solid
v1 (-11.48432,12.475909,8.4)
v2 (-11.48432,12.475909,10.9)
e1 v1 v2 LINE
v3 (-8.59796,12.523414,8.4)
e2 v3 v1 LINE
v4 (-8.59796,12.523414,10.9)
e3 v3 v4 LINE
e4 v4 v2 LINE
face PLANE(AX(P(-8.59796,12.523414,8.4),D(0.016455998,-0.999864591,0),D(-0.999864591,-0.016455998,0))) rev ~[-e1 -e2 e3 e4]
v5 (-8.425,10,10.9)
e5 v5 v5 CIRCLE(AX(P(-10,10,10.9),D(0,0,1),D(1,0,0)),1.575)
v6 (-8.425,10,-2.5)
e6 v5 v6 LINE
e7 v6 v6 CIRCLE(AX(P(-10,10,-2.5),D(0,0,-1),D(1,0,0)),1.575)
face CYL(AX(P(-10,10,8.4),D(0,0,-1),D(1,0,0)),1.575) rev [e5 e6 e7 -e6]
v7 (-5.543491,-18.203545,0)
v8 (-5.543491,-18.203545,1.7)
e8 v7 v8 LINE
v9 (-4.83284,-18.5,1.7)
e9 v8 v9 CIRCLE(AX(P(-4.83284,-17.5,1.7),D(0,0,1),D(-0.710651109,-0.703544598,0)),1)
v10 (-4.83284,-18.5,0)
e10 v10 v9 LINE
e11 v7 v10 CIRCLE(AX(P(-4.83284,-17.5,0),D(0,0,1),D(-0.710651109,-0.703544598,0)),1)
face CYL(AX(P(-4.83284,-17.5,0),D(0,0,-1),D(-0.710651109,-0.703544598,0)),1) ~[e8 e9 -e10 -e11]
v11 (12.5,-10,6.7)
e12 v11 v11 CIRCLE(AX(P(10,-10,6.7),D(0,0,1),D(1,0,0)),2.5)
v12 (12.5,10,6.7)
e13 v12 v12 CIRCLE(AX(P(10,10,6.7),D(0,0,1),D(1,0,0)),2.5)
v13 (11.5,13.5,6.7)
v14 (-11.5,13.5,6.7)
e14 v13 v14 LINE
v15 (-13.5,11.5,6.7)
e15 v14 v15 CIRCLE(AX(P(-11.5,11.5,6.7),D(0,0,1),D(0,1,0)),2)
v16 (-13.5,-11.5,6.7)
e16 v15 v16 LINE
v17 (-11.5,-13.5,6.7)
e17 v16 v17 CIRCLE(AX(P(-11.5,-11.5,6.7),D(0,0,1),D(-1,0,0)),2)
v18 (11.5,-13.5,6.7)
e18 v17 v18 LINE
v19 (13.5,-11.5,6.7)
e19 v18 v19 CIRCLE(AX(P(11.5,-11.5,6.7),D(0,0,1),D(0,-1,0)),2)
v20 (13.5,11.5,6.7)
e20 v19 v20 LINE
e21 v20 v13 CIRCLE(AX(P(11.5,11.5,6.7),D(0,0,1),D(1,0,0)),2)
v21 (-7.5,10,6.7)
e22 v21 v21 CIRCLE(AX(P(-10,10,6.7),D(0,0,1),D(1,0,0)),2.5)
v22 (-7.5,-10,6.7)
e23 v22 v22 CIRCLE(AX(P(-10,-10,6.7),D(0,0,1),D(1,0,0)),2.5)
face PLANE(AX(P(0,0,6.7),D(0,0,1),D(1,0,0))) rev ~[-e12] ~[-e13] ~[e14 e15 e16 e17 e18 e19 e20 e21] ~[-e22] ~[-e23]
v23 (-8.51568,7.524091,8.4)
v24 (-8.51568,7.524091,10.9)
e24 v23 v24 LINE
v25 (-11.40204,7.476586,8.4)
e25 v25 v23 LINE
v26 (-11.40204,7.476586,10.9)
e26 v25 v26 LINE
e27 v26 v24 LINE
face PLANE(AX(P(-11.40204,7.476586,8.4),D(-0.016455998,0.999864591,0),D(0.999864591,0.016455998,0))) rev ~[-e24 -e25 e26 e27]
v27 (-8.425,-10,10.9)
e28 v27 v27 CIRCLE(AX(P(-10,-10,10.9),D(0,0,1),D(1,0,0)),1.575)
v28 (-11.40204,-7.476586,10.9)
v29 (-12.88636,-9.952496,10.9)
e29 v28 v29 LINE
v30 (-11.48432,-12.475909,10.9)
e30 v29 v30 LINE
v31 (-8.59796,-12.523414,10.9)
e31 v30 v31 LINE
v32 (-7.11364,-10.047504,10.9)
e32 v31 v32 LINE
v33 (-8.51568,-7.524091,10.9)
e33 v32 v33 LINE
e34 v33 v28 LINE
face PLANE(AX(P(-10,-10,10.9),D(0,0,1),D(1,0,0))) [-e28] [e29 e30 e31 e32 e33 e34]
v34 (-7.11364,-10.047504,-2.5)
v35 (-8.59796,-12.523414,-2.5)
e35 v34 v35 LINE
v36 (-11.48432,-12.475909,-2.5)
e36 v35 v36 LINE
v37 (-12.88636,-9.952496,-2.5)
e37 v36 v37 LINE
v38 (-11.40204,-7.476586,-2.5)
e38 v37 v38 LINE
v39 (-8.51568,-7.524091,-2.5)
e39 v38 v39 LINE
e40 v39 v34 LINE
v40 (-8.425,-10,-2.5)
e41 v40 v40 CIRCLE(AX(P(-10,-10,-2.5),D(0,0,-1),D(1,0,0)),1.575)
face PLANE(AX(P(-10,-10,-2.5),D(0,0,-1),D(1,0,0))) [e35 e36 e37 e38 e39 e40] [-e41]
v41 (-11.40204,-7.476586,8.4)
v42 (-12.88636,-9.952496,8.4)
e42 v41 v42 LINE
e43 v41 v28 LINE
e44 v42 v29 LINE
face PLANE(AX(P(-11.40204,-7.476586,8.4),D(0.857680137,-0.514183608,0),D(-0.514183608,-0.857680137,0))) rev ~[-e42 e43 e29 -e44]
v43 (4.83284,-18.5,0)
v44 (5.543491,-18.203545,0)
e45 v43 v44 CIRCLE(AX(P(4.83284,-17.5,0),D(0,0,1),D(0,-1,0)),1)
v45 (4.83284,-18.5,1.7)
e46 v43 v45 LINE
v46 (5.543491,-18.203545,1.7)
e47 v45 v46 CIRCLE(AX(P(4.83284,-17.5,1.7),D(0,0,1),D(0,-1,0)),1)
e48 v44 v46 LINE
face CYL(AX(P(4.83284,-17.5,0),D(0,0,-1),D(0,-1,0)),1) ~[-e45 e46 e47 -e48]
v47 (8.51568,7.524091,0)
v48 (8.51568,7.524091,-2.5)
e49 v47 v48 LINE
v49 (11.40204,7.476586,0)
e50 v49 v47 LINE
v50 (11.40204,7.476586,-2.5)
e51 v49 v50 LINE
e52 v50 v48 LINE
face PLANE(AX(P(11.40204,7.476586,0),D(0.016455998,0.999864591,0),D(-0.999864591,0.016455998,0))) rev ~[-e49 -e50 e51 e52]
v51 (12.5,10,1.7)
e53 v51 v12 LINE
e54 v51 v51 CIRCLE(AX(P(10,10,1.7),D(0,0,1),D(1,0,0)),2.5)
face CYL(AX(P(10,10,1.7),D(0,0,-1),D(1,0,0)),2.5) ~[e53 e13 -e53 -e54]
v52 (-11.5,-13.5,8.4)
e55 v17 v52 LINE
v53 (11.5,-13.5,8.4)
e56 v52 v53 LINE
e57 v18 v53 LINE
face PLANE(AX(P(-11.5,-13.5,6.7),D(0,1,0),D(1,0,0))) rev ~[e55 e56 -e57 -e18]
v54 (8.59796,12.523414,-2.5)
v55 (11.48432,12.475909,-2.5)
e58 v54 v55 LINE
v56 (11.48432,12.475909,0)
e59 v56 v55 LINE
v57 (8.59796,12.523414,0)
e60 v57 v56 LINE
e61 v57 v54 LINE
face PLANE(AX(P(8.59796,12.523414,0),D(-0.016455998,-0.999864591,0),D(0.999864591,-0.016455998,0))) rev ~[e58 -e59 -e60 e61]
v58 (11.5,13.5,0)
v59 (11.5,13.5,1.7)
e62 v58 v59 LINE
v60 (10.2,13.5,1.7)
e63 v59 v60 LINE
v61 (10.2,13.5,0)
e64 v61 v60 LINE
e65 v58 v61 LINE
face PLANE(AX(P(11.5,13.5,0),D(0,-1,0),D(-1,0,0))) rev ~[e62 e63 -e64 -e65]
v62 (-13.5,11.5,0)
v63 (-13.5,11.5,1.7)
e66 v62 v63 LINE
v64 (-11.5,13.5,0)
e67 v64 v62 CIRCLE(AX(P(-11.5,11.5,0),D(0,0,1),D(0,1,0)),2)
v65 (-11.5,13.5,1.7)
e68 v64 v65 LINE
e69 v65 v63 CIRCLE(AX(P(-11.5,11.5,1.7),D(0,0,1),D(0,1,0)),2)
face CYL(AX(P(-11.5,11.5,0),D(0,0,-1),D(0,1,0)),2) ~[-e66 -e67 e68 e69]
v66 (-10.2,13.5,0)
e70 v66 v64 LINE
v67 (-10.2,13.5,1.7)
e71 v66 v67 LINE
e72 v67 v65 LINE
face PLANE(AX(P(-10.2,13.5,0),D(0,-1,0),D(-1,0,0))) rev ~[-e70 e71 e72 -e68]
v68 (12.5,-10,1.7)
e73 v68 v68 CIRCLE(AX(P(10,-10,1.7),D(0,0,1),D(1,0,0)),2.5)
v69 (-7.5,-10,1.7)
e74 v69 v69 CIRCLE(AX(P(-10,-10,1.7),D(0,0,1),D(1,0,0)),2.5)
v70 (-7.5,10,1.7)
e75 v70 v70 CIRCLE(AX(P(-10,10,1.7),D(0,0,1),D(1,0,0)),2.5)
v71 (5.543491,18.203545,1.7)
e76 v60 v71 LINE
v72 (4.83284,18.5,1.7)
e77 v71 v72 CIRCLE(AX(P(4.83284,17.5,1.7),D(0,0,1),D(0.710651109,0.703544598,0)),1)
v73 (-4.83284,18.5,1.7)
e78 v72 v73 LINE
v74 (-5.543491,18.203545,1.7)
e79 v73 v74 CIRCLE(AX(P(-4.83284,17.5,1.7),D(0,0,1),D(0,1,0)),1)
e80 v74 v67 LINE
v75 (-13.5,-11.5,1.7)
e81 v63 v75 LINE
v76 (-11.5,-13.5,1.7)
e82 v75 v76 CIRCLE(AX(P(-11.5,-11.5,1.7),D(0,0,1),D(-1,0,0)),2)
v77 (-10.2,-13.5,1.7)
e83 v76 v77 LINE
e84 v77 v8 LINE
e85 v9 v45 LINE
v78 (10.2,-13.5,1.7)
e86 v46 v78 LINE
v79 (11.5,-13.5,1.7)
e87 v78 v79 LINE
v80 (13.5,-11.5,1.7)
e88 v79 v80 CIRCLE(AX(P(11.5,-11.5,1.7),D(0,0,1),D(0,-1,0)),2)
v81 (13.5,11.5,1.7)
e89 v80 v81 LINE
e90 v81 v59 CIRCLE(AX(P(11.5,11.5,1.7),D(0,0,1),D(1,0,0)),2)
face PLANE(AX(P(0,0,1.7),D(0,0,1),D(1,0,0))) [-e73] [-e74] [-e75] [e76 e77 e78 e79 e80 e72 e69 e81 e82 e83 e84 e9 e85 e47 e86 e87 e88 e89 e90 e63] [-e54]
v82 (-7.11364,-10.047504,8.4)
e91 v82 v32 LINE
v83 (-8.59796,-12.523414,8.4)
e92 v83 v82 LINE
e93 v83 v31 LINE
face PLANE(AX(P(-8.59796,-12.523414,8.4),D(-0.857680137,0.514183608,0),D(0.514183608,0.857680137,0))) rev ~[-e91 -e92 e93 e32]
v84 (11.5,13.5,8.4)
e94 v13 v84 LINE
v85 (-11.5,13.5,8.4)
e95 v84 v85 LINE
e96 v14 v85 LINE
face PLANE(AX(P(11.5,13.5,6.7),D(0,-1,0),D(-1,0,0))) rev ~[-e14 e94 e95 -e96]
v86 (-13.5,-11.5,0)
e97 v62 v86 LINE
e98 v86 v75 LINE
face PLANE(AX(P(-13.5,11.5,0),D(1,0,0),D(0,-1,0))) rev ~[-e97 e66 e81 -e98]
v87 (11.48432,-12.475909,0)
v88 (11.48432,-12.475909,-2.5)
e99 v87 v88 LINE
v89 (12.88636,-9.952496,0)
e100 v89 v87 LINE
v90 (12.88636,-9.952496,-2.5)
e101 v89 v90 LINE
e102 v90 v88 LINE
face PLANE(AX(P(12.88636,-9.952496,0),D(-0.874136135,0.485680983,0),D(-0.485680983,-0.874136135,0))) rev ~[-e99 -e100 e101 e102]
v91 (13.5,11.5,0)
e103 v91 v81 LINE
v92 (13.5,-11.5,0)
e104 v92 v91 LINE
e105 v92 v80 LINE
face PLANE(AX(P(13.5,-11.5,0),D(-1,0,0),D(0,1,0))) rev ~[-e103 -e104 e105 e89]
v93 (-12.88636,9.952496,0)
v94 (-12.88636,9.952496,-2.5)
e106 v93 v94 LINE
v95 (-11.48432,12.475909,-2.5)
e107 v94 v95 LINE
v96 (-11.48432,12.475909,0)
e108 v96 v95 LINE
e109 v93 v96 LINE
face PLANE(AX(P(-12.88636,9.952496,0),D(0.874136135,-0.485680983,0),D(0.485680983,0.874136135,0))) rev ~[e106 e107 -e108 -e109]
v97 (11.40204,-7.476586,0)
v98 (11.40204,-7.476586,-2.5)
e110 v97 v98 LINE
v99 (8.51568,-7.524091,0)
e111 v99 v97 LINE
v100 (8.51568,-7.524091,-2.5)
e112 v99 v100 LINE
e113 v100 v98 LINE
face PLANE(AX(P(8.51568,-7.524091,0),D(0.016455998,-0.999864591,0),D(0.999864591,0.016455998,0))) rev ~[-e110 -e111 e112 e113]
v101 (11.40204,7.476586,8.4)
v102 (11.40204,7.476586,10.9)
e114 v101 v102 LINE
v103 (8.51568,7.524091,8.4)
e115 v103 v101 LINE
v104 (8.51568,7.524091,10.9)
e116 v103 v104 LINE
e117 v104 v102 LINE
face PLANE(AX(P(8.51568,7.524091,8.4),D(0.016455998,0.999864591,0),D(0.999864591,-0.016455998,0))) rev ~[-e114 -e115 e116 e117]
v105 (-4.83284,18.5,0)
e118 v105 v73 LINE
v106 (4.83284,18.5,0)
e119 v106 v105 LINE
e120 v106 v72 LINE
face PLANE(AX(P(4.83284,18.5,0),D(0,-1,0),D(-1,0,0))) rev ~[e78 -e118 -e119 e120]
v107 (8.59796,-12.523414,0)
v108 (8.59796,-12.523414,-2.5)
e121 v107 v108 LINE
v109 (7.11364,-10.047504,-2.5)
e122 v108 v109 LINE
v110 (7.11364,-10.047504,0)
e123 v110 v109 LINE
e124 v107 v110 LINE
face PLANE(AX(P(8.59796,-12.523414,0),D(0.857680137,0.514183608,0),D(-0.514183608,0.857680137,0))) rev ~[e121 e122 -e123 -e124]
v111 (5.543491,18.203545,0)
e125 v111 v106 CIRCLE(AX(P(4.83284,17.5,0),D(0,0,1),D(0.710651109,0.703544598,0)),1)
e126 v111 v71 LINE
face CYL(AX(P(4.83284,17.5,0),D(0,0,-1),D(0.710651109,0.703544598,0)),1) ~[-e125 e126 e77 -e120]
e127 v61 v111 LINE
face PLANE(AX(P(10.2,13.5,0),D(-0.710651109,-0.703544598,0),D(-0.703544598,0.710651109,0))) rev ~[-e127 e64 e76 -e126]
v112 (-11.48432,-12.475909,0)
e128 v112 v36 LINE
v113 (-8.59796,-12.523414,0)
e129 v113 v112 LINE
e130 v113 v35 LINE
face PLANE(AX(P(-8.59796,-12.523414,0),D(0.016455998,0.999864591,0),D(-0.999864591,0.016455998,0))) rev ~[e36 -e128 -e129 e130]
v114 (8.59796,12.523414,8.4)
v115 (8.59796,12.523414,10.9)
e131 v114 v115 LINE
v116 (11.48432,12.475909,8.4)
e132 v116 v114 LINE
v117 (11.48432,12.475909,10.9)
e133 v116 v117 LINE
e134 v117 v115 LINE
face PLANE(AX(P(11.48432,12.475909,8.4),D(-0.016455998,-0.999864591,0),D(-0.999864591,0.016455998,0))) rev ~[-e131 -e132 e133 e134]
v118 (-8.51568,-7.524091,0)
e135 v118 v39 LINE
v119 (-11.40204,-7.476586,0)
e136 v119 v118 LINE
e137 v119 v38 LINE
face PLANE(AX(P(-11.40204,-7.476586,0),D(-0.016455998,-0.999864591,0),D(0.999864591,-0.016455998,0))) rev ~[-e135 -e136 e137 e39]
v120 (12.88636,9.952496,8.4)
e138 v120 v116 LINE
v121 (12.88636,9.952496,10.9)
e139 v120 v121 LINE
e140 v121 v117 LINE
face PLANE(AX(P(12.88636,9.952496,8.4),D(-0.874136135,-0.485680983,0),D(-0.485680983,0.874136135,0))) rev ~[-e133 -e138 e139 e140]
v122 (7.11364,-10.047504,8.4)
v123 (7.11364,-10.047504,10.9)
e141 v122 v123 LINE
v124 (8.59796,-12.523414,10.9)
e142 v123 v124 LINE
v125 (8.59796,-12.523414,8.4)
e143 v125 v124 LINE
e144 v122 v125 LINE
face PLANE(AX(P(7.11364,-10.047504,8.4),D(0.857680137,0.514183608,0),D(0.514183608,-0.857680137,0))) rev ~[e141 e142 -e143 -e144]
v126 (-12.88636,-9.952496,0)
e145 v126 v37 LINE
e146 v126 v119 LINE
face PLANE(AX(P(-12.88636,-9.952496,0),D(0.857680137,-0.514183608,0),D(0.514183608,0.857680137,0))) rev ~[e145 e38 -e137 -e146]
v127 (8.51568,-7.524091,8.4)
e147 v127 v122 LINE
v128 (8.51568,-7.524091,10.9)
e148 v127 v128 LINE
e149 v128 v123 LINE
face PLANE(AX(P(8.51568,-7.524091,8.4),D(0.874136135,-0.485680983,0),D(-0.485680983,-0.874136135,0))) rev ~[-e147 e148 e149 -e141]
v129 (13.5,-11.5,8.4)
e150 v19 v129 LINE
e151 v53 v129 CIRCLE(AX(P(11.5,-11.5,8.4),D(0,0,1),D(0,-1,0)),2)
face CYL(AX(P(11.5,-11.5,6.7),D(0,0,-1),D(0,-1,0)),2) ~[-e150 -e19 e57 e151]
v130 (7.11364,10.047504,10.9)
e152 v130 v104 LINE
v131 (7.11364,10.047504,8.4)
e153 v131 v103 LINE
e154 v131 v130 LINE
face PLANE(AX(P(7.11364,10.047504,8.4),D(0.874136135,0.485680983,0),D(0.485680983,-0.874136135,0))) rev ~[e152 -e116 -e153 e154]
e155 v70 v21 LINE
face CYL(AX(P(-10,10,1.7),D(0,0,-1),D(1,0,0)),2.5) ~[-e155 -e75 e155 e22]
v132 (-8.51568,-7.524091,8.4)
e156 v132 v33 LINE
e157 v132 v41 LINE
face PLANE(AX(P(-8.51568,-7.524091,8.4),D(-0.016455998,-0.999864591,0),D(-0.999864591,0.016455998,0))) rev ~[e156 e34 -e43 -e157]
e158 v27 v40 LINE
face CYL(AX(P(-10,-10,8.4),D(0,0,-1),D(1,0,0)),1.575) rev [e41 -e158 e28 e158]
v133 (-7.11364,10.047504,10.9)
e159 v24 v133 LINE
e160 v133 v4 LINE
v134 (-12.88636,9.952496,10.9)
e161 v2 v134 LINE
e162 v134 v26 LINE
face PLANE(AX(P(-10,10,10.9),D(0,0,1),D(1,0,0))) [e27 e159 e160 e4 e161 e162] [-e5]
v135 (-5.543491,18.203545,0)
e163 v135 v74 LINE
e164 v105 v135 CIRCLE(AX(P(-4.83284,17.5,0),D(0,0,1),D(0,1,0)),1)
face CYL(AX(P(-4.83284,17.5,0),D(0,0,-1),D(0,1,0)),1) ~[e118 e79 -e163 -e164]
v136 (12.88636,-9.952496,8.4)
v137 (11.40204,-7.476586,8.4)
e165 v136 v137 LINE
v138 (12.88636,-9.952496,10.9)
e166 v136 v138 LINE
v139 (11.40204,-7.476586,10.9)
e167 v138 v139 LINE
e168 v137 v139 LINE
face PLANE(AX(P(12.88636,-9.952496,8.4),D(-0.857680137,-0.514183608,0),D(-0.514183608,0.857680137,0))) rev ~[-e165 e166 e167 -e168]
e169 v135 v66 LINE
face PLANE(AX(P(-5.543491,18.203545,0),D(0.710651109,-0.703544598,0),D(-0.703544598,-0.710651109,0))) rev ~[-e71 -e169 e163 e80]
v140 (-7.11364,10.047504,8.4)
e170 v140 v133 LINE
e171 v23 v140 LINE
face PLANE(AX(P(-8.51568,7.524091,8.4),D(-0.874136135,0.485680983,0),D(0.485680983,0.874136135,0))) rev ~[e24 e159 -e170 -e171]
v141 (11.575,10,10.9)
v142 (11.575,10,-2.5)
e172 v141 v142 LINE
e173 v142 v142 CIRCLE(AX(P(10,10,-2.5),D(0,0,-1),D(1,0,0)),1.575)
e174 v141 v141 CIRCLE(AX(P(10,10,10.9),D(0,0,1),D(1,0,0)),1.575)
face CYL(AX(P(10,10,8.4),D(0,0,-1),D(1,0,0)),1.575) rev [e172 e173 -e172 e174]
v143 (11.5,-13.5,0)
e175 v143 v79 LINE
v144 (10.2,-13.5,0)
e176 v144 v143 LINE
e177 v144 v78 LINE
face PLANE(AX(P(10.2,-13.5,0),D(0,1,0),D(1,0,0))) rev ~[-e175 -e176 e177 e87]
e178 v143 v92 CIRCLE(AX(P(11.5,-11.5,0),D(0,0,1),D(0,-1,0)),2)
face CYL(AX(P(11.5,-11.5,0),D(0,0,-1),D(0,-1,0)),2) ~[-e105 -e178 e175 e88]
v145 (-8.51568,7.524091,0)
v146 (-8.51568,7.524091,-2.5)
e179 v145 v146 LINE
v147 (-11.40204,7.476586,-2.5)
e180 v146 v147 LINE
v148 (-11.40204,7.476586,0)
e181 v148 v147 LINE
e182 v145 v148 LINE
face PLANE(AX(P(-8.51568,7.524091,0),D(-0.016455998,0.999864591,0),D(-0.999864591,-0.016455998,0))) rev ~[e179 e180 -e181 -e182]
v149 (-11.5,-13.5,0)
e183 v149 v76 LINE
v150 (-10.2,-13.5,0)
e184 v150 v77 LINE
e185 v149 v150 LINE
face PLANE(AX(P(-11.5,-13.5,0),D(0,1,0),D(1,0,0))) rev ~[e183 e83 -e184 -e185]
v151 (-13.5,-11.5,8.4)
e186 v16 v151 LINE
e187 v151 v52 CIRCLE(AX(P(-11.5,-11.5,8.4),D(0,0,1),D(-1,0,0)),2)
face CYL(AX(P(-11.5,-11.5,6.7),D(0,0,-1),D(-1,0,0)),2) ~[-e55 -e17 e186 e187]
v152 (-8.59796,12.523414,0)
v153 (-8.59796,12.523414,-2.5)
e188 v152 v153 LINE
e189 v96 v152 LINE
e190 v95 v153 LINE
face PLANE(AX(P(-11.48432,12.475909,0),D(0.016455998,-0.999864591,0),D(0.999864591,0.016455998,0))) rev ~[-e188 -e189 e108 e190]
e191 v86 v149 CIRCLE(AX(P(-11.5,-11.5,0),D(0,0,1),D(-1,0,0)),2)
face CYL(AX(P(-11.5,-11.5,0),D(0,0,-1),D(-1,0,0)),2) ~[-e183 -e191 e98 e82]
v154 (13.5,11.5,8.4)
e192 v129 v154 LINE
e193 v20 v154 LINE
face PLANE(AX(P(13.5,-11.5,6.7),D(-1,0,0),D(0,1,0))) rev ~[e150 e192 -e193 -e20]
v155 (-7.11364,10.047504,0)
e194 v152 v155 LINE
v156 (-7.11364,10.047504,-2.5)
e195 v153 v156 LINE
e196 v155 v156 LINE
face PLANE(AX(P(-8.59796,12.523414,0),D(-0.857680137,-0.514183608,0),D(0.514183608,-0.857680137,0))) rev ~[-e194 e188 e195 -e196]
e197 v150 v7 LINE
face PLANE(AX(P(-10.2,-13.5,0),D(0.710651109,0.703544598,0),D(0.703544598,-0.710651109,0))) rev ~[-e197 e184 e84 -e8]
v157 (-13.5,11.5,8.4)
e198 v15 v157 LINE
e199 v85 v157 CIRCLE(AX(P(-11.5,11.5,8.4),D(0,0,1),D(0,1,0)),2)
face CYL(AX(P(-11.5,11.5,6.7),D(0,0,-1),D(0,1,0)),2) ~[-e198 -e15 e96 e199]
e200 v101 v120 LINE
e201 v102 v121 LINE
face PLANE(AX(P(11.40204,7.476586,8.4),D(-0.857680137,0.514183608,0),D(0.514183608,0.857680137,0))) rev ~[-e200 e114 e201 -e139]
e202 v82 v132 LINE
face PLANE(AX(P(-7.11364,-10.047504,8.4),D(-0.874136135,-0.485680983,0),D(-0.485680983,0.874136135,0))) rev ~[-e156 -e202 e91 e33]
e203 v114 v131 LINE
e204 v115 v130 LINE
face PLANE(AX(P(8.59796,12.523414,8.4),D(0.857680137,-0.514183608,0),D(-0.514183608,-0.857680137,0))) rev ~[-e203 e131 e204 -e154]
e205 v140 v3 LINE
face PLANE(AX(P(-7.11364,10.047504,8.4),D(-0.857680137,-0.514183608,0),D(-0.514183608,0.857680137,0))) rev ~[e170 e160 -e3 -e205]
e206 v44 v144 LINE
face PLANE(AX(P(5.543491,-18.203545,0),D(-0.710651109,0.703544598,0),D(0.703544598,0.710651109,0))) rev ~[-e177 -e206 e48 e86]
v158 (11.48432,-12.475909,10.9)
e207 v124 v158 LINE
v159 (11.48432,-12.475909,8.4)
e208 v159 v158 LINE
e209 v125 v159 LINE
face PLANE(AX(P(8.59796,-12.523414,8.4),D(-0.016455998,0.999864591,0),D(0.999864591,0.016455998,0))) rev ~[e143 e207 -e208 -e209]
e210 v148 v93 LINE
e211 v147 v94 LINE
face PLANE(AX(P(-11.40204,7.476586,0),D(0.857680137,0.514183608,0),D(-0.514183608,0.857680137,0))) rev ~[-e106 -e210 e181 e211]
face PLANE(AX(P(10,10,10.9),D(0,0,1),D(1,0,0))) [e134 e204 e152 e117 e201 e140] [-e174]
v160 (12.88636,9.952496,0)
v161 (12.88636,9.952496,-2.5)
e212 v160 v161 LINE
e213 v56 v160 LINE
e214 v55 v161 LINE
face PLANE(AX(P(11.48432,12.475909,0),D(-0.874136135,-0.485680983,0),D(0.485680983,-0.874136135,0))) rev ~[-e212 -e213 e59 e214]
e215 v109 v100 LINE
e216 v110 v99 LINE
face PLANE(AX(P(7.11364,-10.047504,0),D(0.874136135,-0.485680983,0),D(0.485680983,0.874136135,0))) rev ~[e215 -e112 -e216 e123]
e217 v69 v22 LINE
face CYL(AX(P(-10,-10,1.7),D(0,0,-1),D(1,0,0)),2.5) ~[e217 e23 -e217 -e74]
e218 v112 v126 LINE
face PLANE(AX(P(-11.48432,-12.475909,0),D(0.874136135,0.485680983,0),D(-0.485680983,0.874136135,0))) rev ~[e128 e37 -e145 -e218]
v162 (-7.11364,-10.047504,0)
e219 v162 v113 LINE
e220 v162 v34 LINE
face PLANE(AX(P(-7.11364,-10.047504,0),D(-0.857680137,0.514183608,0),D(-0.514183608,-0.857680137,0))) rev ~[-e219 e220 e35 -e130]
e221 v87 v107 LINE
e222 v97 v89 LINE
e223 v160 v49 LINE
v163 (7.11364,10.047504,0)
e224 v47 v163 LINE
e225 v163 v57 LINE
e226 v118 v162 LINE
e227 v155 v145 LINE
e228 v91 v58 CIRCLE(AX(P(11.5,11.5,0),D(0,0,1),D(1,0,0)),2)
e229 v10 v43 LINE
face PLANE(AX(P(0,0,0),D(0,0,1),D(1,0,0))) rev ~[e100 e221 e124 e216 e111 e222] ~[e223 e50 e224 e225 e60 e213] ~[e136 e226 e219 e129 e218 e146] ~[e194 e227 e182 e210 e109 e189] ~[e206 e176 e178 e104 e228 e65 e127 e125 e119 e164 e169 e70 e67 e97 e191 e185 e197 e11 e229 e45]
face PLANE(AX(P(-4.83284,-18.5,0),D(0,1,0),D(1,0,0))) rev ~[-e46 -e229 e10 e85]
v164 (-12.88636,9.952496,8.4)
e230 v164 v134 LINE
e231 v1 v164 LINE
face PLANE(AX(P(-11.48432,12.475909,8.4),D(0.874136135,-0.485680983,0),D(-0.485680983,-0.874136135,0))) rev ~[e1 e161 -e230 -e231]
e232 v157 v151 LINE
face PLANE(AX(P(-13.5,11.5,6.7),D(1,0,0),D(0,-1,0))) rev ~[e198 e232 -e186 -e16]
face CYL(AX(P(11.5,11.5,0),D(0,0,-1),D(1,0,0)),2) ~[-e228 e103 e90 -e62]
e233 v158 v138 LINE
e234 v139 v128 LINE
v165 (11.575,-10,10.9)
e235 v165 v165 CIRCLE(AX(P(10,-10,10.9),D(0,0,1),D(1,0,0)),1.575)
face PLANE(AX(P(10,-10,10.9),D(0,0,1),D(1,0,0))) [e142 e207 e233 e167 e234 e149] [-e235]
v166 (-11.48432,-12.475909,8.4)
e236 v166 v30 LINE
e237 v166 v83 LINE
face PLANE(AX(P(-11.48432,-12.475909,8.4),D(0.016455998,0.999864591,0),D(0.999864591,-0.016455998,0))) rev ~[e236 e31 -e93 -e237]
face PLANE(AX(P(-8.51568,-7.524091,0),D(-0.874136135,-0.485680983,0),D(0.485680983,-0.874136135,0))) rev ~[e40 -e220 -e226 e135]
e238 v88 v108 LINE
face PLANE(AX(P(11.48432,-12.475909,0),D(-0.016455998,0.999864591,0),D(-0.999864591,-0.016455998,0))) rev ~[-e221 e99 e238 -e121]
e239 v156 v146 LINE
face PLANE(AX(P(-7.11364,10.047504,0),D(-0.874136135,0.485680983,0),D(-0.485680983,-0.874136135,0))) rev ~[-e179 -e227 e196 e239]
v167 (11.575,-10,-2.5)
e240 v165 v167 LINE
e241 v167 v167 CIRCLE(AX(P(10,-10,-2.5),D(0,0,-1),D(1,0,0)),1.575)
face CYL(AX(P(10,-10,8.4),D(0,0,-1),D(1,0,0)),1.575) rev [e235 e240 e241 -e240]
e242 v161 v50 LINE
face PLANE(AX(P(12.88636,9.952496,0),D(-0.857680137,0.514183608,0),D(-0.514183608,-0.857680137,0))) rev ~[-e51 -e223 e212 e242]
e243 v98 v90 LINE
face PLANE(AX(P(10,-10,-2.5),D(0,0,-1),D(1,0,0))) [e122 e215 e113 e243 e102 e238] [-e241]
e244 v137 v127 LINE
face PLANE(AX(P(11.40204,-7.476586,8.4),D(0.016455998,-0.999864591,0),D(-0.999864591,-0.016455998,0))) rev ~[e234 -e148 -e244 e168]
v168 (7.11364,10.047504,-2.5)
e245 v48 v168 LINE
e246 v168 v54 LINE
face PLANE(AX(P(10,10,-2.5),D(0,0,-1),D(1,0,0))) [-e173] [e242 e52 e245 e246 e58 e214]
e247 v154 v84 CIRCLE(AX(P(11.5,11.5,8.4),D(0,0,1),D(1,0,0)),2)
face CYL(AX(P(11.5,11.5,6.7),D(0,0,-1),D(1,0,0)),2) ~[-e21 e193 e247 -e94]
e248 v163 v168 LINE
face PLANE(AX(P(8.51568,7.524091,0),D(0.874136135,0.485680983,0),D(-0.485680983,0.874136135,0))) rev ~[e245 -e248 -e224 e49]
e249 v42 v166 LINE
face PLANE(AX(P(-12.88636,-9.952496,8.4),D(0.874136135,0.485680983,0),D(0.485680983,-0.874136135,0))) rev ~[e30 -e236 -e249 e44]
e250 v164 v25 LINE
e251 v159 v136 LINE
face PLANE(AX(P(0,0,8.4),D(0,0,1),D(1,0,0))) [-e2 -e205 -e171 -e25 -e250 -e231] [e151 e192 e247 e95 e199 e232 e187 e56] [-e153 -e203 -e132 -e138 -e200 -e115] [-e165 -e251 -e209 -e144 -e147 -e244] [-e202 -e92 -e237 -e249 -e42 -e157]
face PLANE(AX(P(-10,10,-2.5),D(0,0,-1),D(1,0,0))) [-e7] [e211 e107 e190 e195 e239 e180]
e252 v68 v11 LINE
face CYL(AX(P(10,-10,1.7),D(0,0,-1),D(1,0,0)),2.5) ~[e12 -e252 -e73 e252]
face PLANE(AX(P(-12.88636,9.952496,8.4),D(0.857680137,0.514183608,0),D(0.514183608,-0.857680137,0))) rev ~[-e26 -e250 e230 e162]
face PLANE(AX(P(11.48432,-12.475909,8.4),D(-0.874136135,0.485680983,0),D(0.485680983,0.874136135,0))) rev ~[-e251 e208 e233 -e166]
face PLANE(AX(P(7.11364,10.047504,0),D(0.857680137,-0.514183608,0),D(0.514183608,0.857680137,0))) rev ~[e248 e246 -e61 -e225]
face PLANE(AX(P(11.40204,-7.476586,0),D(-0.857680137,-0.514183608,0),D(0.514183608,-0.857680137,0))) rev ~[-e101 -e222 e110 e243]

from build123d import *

# Parameters (mm, degrees)
F1_R      = 1.575
F2_DEPTH  = 1.7
F3_R      = 1.575
F4_DEPTH  = 2.5
F5_R      = 2.5
F5_R_2    = 1.575
F6_DEPTH  = 5
F7_R      = 1.575
F8_DEPTH  = 1.7
F9_R      = 1.575
F10_DEPTH = 2.5


with BuildPart() as f2:
    # F1 (on Top) → F2 (new body)
    with BuildSketch(Plane.XY):
        with BuildLine():
            Line((-10.2, 13.5), (-11.5, 13.5))
            ThreePointArc((-11.5, 13.5), (-12.9142135624, 12.9142135624), (-13.5, 11.5))
            Line((-13.5, 11.5), (-13.5, -11.5))
            ThreePointArc((-13.5, -11.5), (-12.9142135624, -12.9142135624), (-11.5, -13.5))
            Line((-11.5, -13.5), (-10.2, -13.5))
            Line((-10.2, -13.5), (10.2, -13.5))
            Line((10.2, -13.5), (11.5, -13.5))
            ThreePointArc((11.5, -13.5), (12.9142135624, -12.9142135624), (13.5, -11.5))
            Line((13.5, -11.5), (13.5, 11.5))
            ThreePointArc((13.5, 11.5), (12.9142135624, 12.9142135624), (11.5, 13.5))
            Line((11.5, 13.5), (10.2, 13.5))
            Line((10.2, 13.5), (-10.2, 13.5))
        make_face()
        with Locations((-10, -10)):
            Circle(F1_R, mode=Mode.SUBTRACT)
        with Locations((10, -10)):
            Circle(F1_R, mode=Mode.SUBTRACT)
        with Locations((-10, 10)):
            Circle(F1_R, mode=Mode.SUBTRACT)
        with Locations((10, 10)):
            Circle(F1_R, mode=Mode.SUBTRACT)
        with BuildLine():
            Line((-5.5434908481, 18.2035445979), (-10.2, 13.5))
            Line((-10.2, 13.5), (10.2, 13.5))
            Line((10.2, 13.5), (5.5434908481, 18.2035445979))
            ThreePointArc((5.5434908481, 18.2035445979), (5.2178432469, 18.4229151093), (4.832839739, 18.5))
            Line((4.832839739, 18.5), (-4.832839739, 18.5))
            ThreePointArc((-4.832839739, 18.5), (-5.2178432469, 18.4229151093), (-5.5434908481, 18.2035445979))
        make_face()
        with BuildLine():
            Line((10.2, -13.5), (-10.2, -13.5))
            Line((-10.2, -13.5), (-5.5434908481, -18.2035445979))
            ThreePointArc((-5.5434908481, -18.2035445979), (-5.2178432469, -18.4229151093), (-4.832839739, -18.5))
            Line((-4.832839739, -18.5), (4.832839739, -18.5))
            ThreePointArc((4.832839739, -18.5), (5.2178432469, -18.4229151093), (5.5434908481, -18.2035445979))
            Line((5.5434908481, -18.2035445979), (10.2, -13.5))
        make_face()
    extrude(amount=F2_DEPTH)

    # F3 (on face) → F4 (join)
    with BuildSketch(Plane(origin=(0, 0, 0), x_dir=(1, 0, 0), z_dir=(0, 0, -1))):
        Polygon((-11.4020402321, -7.4765863358), (-12.8863604535, -9.952495626), (-11.4843202214, -12.4759092903), (-8.5979597679, -12.5234136642), (-7.1136395465, -10.047504374), (-8.5156797786, -7.5240907097), align=None)
        with Locations((-10, -10)):
            Circle(F3_R, mode=Mode.SUBTRACT)
        Polygon((-12.8863604535, 9.952495626), (-11.4020402321, 7.4765863358), (-8.5156797786, 7.5240907097), (-7.1136395465, 10.047504374), (-8.5979597679, 12.5234136642), (-11.4843202214, 12.4759092903), align=None)
        with Locations((-10, 10)):
            Circle(F3_R, mode=Mode.SUBTRACT)
        Polygon((11.4843202214, -12.4759092903), (12.8863604535, -9.952495626), (11.4020402321, -7.4765863358), (8.5156797786, -7.5240907097), (7.1136395465, -10.047504374), (8.5979597679, -12.5234136642), align=None)
        with Locations((10, -10)):
            Circle(F3_R, mode=Mode.SUBTRACT)
        Polygon((8.5979597679, 12.5234136642), (7.1136395465, 10.047504374), (8.5156797786, 7.5240907097), (11.4020402321, 7.4765863358), (12.8863604535, 9.952495626), (11.4843202214, 12.4759092903), align=None)
        with Locations((10, 10)):
            Circle(F3_R, mode=Mode.SUBTRACT)
    extrude(amount=F4_DEPTH)

    # F5 (on face) → F6 (join)
    with BuildSketch(Plane.XY.offset(1.7)):
        with Locations((-10, 10)):
            Circle(F5_R)
        with Locations((-10, 10)):
            Circle(F5_R_2, mode=Mode.SUBTRACT)
        with Locations((10, 10)):
            Circle(F5_R)
        with Locations((10, 10)):
            Circle(F5_R_2, mode=Mode.SUBTRACT)
        with Locations((10, -10)):
            Circle(F5_R)
        with Locations((10, -10)):
            Circle(F5_R_2, mode=Mode.SUBTRACT)
        with Locations((-10, -10)):
            Circle(F5_R)
        with Locations((-10, -10)):
            Circle(F5_R_2, mode=Mode.SUBTRACT)
    extrude(amount=F6_DEPTH)

    # F7 (on face) → F8 (join)
    with BuildSketch(Plane.XY.offset(6.7)):
        with BuildLine():
            Line((-11.5, -13.5), (11.5, -13.5))
            ThreePointArc((11.5, -13.5), (12.9142135624, -12.9142135624), (13.5, -11.5))
            Line((13.5, -11.5), (13.5, 11.5))
            ThreePointArc((13.5, 11.5), (12.9142135624, 12.9142135624), (11.5, 13.5))
            Line((11.5, 13.5), (-11.5, 13.5))
            ThreePointArc((-11.5, 13.5), (-12.9142135624, 12.9142135624), (-13.5, 11.5))
            Line((-13.5, 11.5), (-13.5, -11.5))
            ThreePointArc((-13.5, -11.5), (-12.9142135624, -12.9142135624), (-11.5, -13.5))
        make_face()
        with Locations((-10, -10)):
            Circle(F7_R, mode=Mode.SUBTRACT)
        with Locations((10, -10)):
            Circle(F7_R, mode=Mode.SUBTRACT)
        with Locations((-10, 10)):
            Circle(F7_R, mode=Mode.SUBTRACT)
        with Locations((10, 10)):
            Circle(F7_R, mode=Mode.SUBTRACT)
    extrude(amount=F8_DEPTH)

    # F9 (on face) → F10 (join)
    with BuildSketch(Plane.XY.offset(8.4)):
        Polygon((-11.4020402321, 7.4765863358), (-8.5156797786, 7.5240907097), (-7.1136395465, 10.047504374), (-8.5979597679, 12.5234136642), (-11.4843202214, 12.4759092903), (-12.8863604535, 9.952495626), align=None)
        with Locations((-10, 10)):
            Circle(F9_R, mode=Mode.SUBTRACT)
        Polygon((12.8863604535, -9.952495626), (11.4020402321, -7.4765863358), (8.5156797786, -7.5240907097), (7.1136395465, -10.047504374), (8.5979597679, -12.5234136642), (11.4843202214, -12.4759092903), align=None)
        with Locations((10, -10)):
            Circle(F9_R, mode=Mode.SUBTRACT)
        Polygon((12.8863604535, 9.952495626), (11.4843202214, 12.4759092903), (8.5979597679, 12.5234136642), (7.1136395465, 10.047504374), (8.5156797786, 7.5240907097), (11.4020402321, 7.4765863358), align=None)
        with Locations((10, 10)):
            Circle(F9_R, mode=Mode.SUBTRACT)
        Polygon((-11.4843202214, -12.4759092903), (-8.5979597679, -12.5234136642), (-7.1136395465, -10.047504374), (-8.5156797786, -7.5240907097), (-11.4020402321, -7.4765863358), (-12.8863604535, -9.952495626), align=None)
        with Locations((-10, -10)):
            Circle(F9_R, mode=Mode.SUBTRACT)
    extrude(amount=F10_DEPTH)


solid = f2.part
